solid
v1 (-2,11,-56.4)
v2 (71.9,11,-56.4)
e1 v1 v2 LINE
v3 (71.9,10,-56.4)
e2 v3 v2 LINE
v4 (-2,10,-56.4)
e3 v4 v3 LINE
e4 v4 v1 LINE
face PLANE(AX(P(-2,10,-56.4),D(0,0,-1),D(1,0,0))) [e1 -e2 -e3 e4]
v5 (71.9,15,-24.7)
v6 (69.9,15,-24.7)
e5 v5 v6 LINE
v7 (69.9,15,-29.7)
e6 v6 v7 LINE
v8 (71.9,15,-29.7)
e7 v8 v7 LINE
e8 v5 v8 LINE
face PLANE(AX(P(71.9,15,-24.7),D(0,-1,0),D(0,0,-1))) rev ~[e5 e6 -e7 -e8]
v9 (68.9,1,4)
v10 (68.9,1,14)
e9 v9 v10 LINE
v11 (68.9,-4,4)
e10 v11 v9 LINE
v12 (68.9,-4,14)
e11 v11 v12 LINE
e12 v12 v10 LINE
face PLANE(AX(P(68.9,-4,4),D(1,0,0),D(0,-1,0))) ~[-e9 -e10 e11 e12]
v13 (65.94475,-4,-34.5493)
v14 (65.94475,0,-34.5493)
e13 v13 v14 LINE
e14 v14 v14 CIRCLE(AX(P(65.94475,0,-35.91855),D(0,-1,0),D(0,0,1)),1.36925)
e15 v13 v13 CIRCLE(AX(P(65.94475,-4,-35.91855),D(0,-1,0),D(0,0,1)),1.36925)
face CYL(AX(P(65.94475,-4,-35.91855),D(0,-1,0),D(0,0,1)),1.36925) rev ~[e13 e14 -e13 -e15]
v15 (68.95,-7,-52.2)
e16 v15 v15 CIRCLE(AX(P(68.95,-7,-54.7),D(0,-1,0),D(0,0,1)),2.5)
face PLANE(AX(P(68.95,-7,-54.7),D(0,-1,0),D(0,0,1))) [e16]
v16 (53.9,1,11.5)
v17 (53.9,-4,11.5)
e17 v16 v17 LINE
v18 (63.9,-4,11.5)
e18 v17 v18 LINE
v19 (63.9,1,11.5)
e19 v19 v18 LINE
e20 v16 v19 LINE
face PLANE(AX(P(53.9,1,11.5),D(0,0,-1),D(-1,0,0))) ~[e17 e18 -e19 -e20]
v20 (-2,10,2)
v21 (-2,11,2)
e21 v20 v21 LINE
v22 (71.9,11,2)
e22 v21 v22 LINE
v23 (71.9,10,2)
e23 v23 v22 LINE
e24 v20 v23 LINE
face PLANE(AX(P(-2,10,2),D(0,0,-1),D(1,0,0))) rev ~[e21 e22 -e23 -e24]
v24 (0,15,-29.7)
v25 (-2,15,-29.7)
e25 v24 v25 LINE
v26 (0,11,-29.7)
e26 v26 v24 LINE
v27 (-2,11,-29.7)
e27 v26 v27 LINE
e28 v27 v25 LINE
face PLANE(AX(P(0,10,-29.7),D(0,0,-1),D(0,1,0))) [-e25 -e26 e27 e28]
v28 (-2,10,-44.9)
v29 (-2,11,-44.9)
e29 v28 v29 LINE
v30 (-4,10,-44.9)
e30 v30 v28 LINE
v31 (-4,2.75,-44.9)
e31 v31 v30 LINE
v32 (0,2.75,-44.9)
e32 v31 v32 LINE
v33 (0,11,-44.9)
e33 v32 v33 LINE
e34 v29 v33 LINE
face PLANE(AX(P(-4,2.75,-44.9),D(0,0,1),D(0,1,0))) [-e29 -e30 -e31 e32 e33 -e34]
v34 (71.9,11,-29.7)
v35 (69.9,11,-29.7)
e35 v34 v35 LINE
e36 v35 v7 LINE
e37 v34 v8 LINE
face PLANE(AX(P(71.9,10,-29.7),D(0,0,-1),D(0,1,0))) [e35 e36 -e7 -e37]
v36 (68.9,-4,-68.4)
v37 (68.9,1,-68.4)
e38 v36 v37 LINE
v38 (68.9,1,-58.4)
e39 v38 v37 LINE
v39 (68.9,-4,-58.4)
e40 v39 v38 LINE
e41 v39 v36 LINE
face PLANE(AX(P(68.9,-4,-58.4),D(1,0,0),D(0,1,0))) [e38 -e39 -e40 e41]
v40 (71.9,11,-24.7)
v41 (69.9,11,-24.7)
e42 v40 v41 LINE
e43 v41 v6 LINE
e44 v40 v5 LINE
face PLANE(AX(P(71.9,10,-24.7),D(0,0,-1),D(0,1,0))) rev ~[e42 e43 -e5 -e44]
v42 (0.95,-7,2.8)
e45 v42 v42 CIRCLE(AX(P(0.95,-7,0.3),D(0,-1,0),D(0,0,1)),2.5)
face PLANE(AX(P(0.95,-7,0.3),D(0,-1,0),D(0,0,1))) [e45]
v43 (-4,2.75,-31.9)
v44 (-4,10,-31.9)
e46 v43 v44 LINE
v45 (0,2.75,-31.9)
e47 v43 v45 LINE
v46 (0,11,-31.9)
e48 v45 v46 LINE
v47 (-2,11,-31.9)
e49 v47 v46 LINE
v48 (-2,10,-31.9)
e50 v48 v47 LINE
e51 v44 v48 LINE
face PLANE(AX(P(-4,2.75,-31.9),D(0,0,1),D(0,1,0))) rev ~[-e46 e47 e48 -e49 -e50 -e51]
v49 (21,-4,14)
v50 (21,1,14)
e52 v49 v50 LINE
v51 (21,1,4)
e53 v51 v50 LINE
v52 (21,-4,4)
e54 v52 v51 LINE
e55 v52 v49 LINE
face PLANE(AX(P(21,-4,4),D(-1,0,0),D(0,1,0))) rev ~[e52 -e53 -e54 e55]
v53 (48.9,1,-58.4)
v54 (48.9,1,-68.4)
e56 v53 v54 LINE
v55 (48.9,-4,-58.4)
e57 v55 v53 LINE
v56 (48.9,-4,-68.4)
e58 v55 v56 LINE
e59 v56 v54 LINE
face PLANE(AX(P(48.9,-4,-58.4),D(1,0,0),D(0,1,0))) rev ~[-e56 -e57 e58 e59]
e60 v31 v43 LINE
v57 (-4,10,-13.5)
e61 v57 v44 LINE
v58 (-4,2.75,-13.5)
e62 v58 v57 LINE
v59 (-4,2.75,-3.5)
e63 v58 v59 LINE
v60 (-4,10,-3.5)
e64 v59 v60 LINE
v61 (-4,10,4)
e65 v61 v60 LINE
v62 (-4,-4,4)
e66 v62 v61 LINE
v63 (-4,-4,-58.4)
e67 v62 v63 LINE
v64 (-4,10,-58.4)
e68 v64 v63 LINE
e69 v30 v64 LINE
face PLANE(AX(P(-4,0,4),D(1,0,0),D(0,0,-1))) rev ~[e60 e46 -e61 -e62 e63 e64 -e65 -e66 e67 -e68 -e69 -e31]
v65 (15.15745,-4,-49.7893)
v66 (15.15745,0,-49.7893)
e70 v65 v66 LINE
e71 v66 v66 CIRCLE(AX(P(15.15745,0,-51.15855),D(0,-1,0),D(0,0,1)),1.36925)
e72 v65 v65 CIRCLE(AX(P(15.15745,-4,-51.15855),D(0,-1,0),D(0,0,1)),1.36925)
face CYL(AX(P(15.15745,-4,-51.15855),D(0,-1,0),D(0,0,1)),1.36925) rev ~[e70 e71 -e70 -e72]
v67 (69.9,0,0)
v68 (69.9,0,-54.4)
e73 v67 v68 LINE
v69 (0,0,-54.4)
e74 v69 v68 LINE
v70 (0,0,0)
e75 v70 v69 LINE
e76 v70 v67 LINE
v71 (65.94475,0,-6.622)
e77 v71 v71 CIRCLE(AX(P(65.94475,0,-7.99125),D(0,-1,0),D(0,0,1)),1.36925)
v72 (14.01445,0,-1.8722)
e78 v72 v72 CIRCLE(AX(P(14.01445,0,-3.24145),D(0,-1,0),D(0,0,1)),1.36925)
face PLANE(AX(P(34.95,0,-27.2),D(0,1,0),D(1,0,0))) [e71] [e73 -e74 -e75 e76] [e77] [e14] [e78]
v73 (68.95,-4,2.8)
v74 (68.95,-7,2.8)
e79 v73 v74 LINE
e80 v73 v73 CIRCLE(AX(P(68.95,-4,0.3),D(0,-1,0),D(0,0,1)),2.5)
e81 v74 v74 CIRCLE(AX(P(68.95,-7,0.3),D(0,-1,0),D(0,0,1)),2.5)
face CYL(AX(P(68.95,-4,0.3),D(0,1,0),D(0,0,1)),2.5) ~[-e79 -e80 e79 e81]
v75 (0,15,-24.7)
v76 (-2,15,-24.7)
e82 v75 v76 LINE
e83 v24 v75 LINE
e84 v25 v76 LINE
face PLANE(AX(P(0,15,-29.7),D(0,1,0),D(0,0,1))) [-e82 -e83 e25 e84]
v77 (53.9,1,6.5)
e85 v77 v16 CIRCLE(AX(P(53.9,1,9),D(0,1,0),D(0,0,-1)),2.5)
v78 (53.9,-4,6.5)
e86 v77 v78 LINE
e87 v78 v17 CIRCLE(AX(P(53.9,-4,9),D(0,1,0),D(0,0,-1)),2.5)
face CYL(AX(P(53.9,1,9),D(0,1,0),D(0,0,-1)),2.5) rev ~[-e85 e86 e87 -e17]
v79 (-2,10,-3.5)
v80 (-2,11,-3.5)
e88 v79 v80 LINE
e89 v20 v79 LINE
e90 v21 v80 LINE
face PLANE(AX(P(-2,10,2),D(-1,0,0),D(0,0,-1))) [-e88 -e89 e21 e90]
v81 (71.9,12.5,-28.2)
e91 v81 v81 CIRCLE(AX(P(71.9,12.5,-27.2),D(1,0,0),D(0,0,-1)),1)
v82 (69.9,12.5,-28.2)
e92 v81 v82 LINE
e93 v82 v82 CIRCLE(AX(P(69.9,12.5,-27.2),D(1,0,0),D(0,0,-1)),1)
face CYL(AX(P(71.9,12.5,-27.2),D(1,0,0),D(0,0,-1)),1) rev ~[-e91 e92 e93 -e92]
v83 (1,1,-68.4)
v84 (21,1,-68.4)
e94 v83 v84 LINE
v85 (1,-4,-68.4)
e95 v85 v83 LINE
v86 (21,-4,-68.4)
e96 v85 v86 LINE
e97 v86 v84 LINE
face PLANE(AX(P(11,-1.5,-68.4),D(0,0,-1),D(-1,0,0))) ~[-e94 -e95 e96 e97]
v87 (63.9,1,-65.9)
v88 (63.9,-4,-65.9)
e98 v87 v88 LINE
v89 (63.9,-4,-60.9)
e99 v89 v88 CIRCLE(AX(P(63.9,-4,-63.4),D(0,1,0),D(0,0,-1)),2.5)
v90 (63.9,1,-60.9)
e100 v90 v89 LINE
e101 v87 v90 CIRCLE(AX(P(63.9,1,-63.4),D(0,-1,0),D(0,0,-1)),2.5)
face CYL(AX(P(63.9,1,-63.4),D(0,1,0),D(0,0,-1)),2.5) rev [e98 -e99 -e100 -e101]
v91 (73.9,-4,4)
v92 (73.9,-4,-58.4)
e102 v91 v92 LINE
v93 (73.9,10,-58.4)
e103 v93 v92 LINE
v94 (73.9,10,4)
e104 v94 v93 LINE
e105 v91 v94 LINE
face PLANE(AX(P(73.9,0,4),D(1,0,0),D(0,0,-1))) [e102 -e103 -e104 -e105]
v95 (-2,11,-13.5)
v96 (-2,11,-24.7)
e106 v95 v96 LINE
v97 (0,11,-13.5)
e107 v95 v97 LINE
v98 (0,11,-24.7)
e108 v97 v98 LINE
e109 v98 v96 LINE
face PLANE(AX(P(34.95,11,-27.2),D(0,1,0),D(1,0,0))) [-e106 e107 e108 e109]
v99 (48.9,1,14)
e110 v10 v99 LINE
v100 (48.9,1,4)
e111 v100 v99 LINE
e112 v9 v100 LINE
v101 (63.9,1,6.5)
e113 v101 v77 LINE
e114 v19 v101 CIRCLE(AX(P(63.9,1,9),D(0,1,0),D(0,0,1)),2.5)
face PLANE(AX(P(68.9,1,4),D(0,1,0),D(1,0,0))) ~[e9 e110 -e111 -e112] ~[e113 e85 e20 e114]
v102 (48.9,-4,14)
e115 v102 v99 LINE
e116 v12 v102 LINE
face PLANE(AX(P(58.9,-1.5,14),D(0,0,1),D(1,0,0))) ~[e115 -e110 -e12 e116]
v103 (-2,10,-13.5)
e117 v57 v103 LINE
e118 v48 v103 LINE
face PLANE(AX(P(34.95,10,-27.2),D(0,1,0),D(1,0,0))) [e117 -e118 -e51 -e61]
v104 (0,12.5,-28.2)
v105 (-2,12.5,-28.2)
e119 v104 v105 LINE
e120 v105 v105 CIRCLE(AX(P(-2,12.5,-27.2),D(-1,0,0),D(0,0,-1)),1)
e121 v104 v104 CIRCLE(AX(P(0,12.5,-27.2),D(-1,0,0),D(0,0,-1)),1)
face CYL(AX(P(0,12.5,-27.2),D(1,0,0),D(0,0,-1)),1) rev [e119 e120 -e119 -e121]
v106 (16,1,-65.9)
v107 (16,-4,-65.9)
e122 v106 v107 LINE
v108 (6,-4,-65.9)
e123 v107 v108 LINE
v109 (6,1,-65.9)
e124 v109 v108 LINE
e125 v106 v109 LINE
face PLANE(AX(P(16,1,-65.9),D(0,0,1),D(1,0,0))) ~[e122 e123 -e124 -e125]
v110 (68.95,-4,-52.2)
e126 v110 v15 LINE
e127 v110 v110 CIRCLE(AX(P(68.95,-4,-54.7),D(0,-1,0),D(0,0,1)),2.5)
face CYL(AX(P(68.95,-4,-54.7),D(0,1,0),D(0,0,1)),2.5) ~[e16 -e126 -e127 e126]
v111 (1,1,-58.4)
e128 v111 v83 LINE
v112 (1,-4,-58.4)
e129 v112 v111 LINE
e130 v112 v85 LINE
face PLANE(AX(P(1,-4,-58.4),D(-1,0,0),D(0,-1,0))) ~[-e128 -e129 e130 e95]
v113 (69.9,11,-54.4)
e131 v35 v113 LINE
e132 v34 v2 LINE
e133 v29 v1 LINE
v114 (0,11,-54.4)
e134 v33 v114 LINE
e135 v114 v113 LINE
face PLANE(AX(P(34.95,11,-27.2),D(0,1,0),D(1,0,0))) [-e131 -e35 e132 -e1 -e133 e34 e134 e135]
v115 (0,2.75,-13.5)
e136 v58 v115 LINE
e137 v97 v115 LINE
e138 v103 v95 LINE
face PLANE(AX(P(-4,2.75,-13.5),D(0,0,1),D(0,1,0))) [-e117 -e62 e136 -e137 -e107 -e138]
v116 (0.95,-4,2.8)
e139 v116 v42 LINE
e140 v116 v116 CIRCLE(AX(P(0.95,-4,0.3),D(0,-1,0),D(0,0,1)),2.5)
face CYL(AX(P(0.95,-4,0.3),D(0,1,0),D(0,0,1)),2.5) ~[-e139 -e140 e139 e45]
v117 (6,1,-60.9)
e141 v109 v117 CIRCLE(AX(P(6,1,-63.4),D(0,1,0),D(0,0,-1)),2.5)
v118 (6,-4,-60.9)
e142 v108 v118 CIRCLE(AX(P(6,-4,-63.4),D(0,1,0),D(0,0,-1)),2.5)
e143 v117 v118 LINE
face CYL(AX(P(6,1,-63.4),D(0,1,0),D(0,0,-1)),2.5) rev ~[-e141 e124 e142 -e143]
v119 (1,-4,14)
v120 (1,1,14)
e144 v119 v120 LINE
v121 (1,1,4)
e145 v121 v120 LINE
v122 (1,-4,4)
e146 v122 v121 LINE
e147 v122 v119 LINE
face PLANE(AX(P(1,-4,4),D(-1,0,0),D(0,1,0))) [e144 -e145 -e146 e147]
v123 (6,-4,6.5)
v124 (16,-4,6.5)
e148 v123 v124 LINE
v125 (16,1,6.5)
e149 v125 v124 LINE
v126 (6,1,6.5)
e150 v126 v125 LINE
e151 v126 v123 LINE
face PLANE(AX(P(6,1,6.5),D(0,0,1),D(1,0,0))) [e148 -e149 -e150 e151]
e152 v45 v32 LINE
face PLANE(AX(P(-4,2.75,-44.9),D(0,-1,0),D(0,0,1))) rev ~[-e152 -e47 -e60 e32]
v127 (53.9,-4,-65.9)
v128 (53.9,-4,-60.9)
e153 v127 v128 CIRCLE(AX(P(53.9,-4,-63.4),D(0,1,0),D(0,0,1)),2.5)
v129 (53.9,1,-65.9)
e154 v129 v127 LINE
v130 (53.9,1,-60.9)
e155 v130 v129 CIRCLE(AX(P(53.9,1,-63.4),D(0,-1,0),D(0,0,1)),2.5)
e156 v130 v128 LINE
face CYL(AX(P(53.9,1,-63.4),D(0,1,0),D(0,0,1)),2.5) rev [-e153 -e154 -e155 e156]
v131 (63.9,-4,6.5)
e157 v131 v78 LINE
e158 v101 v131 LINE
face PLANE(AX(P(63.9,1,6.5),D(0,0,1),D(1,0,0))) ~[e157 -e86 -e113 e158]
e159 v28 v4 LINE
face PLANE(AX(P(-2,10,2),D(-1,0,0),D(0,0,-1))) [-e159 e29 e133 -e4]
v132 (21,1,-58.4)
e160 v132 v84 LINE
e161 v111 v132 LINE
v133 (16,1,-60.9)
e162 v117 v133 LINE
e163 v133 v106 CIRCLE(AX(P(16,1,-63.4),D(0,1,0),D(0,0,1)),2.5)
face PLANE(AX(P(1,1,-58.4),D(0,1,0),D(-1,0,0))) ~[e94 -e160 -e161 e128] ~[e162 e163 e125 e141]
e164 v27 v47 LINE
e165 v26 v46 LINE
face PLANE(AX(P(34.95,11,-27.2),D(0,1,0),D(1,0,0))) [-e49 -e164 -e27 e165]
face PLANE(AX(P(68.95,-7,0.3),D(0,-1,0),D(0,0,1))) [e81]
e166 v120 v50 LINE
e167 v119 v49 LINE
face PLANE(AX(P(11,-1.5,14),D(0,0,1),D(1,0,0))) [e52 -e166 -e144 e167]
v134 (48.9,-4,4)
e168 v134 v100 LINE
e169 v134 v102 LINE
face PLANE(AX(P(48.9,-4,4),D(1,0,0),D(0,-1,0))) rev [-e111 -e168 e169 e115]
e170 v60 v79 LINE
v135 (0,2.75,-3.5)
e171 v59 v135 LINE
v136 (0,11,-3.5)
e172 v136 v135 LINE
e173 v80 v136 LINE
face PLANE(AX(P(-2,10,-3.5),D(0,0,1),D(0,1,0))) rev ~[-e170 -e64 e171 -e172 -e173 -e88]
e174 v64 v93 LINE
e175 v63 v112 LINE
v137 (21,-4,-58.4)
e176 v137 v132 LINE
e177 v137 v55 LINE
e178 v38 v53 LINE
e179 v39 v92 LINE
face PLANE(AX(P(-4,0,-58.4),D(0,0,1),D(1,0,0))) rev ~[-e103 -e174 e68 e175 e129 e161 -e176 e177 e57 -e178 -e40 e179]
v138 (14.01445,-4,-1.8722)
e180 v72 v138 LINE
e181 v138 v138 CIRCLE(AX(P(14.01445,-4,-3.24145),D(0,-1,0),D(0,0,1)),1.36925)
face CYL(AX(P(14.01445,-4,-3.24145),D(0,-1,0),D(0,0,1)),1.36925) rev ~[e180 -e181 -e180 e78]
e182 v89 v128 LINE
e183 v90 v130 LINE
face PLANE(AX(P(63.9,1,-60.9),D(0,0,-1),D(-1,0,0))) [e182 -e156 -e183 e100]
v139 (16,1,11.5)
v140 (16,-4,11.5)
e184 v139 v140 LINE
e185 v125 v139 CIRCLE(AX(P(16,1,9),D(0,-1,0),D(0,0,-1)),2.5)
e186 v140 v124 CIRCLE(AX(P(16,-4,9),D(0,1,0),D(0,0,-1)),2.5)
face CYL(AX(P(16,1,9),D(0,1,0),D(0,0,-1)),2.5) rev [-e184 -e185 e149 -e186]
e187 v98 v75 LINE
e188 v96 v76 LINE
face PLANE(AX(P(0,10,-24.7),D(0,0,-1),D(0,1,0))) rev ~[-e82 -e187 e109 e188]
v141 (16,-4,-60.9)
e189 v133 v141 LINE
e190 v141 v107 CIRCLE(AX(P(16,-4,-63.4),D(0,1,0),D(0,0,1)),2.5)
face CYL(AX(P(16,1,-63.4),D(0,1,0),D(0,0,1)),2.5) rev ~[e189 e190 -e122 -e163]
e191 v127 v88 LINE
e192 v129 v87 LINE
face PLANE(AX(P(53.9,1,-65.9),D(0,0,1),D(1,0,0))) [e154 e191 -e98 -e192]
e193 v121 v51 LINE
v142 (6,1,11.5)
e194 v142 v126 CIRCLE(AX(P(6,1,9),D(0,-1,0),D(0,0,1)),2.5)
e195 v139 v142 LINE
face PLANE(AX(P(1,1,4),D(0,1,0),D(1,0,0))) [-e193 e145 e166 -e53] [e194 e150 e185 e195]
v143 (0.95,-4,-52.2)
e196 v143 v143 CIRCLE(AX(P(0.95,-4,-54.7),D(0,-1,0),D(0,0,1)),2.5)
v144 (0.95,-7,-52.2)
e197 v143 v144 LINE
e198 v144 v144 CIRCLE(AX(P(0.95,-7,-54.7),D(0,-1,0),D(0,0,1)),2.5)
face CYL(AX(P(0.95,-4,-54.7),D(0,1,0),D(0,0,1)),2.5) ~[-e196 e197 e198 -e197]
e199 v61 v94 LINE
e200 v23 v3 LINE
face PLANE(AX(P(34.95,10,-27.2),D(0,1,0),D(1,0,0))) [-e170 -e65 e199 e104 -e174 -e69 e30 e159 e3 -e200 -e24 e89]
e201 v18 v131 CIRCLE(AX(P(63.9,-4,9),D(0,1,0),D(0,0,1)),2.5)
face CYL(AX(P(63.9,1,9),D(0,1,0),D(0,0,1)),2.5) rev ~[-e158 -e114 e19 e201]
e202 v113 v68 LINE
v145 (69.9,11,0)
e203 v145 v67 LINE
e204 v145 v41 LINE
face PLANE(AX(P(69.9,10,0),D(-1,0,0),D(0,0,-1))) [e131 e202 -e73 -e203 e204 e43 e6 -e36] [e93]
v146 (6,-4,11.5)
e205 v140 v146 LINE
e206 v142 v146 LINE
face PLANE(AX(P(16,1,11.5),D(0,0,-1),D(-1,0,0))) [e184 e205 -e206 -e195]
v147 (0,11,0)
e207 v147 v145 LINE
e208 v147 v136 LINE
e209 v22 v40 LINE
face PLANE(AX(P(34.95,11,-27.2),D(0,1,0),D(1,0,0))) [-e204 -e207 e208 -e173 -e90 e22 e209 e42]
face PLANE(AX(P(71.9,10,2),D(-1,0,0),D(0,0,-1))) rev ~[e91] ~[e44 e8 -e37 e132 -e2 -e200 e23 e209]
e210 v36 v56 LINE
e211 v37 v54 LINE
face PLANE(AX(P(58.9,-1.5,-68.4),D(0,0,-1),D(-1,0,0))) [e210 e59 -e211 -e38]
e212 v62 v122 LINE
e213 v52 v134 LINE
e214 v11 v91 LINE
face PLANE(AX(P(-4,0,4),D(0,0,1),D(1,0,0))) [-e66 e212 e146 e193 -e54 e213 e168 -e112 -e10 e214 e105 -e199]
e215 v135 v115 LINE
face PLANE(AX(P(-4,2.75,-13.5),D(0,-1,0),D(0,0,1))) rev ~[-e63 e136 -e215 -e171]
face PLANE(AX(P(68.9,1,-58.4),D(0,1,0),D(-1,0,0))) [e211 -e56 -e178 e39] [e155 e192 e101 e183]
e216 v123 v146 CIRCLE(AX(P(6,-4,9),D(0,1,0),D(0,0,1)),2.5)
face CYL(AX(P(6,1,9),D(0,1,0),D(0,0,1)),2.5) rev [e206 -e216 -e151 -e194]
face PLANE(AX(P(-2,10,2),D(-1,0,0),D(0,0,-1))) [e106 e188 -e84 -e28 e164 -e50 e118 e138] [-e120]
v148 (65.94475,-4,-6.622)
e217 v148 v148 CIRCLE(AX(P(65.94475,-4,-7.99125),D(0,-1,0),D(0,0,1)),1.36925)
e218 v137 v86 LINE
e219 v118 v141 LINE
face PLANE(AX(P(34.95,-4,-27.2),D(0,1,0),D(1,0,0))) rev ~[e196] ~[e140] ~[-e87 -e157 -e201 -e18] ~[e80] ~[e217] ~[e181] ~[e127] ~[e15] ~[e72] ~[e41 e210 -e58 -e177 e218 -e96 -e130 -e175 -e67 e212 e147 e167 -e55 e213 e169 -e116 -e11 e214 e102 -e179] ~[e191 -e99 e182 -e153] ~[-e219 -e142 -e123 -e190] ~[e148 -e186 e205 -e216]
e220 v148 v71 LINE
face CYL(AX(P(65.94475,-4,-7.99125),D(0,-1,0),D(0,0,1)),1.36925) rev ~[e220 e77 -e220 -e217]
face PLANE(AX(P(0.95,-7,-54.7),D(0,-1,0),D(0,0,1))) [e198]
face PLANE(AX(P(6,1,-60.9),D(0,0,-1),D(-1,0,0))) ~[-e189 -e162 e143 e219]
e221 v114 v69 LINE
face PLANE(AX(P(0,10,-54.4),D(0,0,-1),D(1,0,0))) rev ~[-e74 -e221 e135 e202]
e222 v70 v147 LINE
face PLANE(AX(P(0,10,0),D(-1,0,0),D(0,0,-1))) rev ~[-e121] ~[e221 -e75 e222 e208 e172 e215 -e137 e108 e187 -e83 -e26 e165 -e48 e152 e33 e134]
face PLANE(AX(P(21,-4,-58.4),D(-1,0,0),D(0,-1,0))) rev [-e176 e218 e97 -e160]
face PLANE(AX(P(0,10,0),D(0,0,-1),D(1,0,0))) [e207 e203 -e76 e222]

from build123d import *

# Parameters (mm, degrees)
SKETCH1_W               = 77.9
SKETCH1_H               = 62.4
SKETCH1_W_2             = 69.9
SKETCH1_H_2             = 54.4
BOSS_EXTRUDE1_DEPTH     = 10
SKETCH2_W               = 77.9
SKETCH2_H               = 62.4
BOSS_EXTRUDE2_DEPTH     = 4
SKETCH7_W               = 73.9
SKETCH7_H               = 58.4
SKETCH7_W_2             = 69.9
SKETCH7_H_2             = 54.4
BOSS_EXTRUDE4_DEPTH     = 1
CUT_EXTRUDE1_REACH      = 99.979
SKETCH3_W               = 13
SKETCH3_H               = 7.25
CUT_EXTRUDE2_REACH      = 99.979
SKETCH4_W               = 10
SKETCH4_H               = 7.25
SKETCH5_R               = 1.36925
CUT_EXTRUDE4_DEPTH      = 25
SKETCH6_R               = 2.5
BOSS_EXTRUDE3_DEPTH     = 3
SKETCH9_W               = 10
SKETCH9_H               = 1
SKETCH9_W_2             = 13
CUT_EXTRUDE5_DEPTH      = 11
SKETCH11_W              = 5
SKETCH11_H              = 5
SKETCH11_R              = 1
BOSS_EXTRUDE5_DEPTH     = 2
BOSS_EXTRUDE6_START     = -2
SKETCH12_W              = 5
SKETCH12_H              = 5
SKETCH12_R              = 1
BOSS_EXTRUDE6_DEPTH     = 2
SKETCH13_W              = 20
SKETCH13_H              = 5
BOSS_EXTRUDE7_DEPTH     = 10
CUT_EXTRUDE6_DEPTH      = 10
MIRROR2_COPY_1_SKETCH_W = 20
MIRROR2_COPY_1_SKETCH_H = 5
MIRROR2_COPY_1_DEPTH    = 10
MIRROR2_COPY_2_DEPTH    = 10


with BuildPart() as part:
    # Sketch1 → Boss-Extrude1 (new body)
    with BuildSketch(Plane(origin=(0, 0, 0), x_dir=(1, 0, 0), z_dir=(0, 1, 0))):
        with Locations((34.95, 27.2)):
            Rectangle(SKETCH1_W, SKETCH1_H)
        with Locations((34.95, 27.2)):
            Rectangle(SKETCH1_W_2, SKETCH1_H_2, mode=Mode.SUBTRACT)
    extrude(amount=BOSS_EXTRUDE1_DEPTH)

    # Sketch2 → Boss-Extrude2 (add)
    with BuildSketch(Plane(origin=(0, 0, 0), x_dir=(1, 0, 0), z_dir=(0, 1, 0))):
        with Locations((34.95, 27.2)):
            Rectangle(SKETCH2_W, SKETCH2_H)
    extrude(amount=-BOSS_EXTRUDE2_DEPTH)

    # Sketch7 → Boss-Extrude4 (add)
    with BuildSketch(Plane(origin=(0, 10, 0), x_dir=(1, 0, 0), z_dir=(0, 1, 0))):
        with Locations((34.95, 27.2)):
            Rectangle(SKETCH7_W, SKETCH7_H)
        with Locations((34.95, 27.2)):
            Rectangle(SKETCH7_W_2, SKETCH7_H_2, mode=Mode.SUBTRACT)
    extrude(amount=BOSS_EXTRUDE4_DEPTH)

    # Sketch3 → Cut-Extrude1 (cut, up to next)
    with BuildSketch(Plane.ZY.offset(4), mode=Mode.PRIVATE) as cut_extrude1_sk1:
        with Locations((-38.4, 6.375)):
            Rectangle(SKETCH3_W, SKETCH3_H)
    cut_extrude1_tool1 = extrude(cut_extrude1_sk1.sketch, amount=-CUT_EXTRUDE1_REACH, mode=Mode.PRIVATE) & part.part
    add(cut_extrude1_tool1.solids().sort_by_distance((-4, 6.375, -38.4))[0], mode=Mode.SUBTRACT)

    # Sketch4 → Cut-Extrude2 (cut, up to next)
    with BuildSketch(Plane.ZY.offset(4), mode=Mode.PRIVATE) as cut_extrude2_sk1:
        with Locations((-8.5, 6.375)):
            Rectangle(SKETCH4_W, SKETCH4_H)
    cut_extrude2_tool1 = extrude(cut_extrude2_sk1.sketch, amount=-CUT_EXTRUDE2_REACH, mode=Mode.PRIVATE) & part.part
    add(cut_extrude2_tool1.solids().sort_by_distance((-4, 6.375, -8.5))[0], mode=Mode.SUBTRACT)

    # Sketch5 → Cut-Extrude4 (cut, symmetric)
    with BuildSketch(Plane(origin=(0, -4, 0), x_dir=(-1, 0, 0), z_dir=(0, -1, 0))):
        with Locations(Location((-65.94475, 7.99125, 0), (0, 0, 270))):
            Circle(SKETCH5_R)
        with Locations(Location((-15.15745, 51.15855, 0), (0, 0, 270))):
            Circle(SKETCH5_R)
        with Locations(Location((-65.94475, 35.91855, 0), (0, 0, 270))):
            Circle(SKETCH5_R)
        with Locations(Location((-14.01445, 3.24145, 0), (0, 0, 270))):
            Circle(SKETCH5_R)
    extrude(amount=CUT_EXTRUDE4_DEPTH, both=True, mode=Mode.SUBTRACT)

    # Sketch6 → Boss-Extrude3 (add)
    with BuildSketch(Plane(origin=(0, -4, 0), x_dir=(-1, 0, 0), z_dir=(0, -1, 0))):
        with Locations(Location((-0.95, -0.3, 0), (0, 0, 270))):
            Circle(SKETCH6_R)
        with Locations(Location((-0.95, 54.7, 0), (0, 0, 270))):
            Circle(SKETCH6_R)
        with Locations(Location((-68.95, 54.7, 0), (0, 0, 270))):
            Circle(SKETCH6_R)
        with Locations(Location((-68.95, -0.3, 0), (0, 0, 270))):
            Circle(SKETCH6_R)
    extrude(amount=BOSS_EXTRUDE3_DEPTH)

    # Sketch9 → Cut-Extrude5 (cut)
    with BuildSketch(Plane.ZY.offset(2)):
        with Locations((-8.5, 10.5)):
            Rectangle(SKETCH9_W, SKETCH9_H)
        with Locations((-38.4, 10.5)):
            Rectangle(SKETCH9_W_2, SKETCH9_H)
    extrude(amount=-CUT_EXTRUDE5_DEPTH, mode=Mode.SUBTRACT)

    # Sketch11 → Boss-Extrude5 (add)
    with BuildSketch(Plane(origin=(71.9, 0, 0), x_dir=(0, 0, -1), z_dir=(1, 0, 0))):
        with Locations((27.2, 12.5)):
            Rectangle(SKETCH11_W, SKETCH11_H)
        with Locations((27.2, 12.5)):
            Circle(SKETCH11_R, mode=Mode.SUBTRACT)
    extrude(amount=-BOSS_EXTRUDE5_DEPTH)

    # Sketch12 → Boss-Extrude6 (add)
    with BuildSketch(Plane.ZY.offset(2).offset(BOSS_EXTRUDE6_START)):
        with Locations((-27.2, 12.5)):
            Rectangle(SKETCH12_W, SKETCH12_H)
        with Locations(Location((-27.2, 12.5, 0), (0, 0, 180))):
            Circle(SKETCH12_R, mode=Mode.SUBTRACT)
    extrude(amount=BOSS_EXTRUDE6_DEPTH)

    # Sketch13 → Boss-Extrude7 (add)
    with BuildSketch(Plane(origin=(0, 0, -58.4), x_dir=(-1, 0, 0), z_dir=(0, 0, -1))):
        with Locations((-58.9, -1.5)):
            Rectangle(SKETCH13_W, SKETCH13_H)
    boss_extrude7 = extrude(amount=BOSS_EXTRUDE7_DEPTH)

    # Sketch14 → Cut-Extrude6 (cut)
    with BuildSketch(Plane(origin=(0, 1, 0), x_dir=(1, 0, 0), z_dir=(0, 1, 0))):
        with BuildLine():
            Line((63.9, 60.9), (53.9, 60.9))
            ThreePointArc((53.9, 60.9), (51.4, 63.4), (53.9, 65.9))
            Line((53.9, 65.9), (63.9, 65.9))
            ThreePointArc((63.9, 65.9), (66.4, 63.4), (63.9, 60.9))
        make_face()
    cut_extrude6 = extrude(amount=-CUT_EXTRUDE6_DEPTH, mode=Mode.SUBTRACT)

    # Mirror1: Boss-Extrude7, Cut-Extrude6 across plane
    add(boss_extrude7.mirror(Plane(origin=(0, 0, -27.2), x_dir=(1, 0, 0), z_dir=(0, 0, -1))))
    add(cut_extrude6.mirror(Plane(origin=(0, 0, -27.2), x_dir=(1, 0, 0), z_dir=(0, 0, -1))), mode=Mode.SUBTRACT)

    # Mirror2: Boss-Extrude7, Cut-Extrude6 across plane
    add(boss_extrude7.mirror(Plane.ZY.offset(-34.95)))
    add(cut_extrude6.mirror(Plane.ZY.offset(-34.95)), mode=Mode.SUBTRACT)

    # Mirror2 copy 1 sketch → Mirror2 copy 1 (add)
    with BuildSketch(Plane(origin=(69.9, 0, 4), x_dir=(1, 0, 0), z_dir=(0, 0, 1))):
        with Locations((-58.9, -1.5)):
            Rectangle(MIRROR2_COPY_1_SKETCH_W, MIRROR2_COPY_1_SKETCH_H)
    extrude(amount=MIRROR2_COPY_1_DEPTH)

    # Mirror2 copy 2 sketch → Mirror2 copy 2 (cut)
    with BuildSketch(Plane(origin=(69.9, 1, -54.4), x_dir=(-1, 0, 0), z_dir=(0, 1, 0))):
        with BuildLine():
            Line((63.9, 60.9), (53.9, 60.9))
            ThreePointArc((53.9, 60.9), (51.4, 63.4), (53.9, 65.9))
            Line((53.9, 65.9), (63.9, 65.9))
            ThreePointArc((63.9, 65.9), (66.4, 63.4), (63.9, 60.9))
        make_face()
    extrude(amount=-MIRROR2_COPY_2_DEPTH, mode=Mode.SUBTRACT)


solid = part.part
